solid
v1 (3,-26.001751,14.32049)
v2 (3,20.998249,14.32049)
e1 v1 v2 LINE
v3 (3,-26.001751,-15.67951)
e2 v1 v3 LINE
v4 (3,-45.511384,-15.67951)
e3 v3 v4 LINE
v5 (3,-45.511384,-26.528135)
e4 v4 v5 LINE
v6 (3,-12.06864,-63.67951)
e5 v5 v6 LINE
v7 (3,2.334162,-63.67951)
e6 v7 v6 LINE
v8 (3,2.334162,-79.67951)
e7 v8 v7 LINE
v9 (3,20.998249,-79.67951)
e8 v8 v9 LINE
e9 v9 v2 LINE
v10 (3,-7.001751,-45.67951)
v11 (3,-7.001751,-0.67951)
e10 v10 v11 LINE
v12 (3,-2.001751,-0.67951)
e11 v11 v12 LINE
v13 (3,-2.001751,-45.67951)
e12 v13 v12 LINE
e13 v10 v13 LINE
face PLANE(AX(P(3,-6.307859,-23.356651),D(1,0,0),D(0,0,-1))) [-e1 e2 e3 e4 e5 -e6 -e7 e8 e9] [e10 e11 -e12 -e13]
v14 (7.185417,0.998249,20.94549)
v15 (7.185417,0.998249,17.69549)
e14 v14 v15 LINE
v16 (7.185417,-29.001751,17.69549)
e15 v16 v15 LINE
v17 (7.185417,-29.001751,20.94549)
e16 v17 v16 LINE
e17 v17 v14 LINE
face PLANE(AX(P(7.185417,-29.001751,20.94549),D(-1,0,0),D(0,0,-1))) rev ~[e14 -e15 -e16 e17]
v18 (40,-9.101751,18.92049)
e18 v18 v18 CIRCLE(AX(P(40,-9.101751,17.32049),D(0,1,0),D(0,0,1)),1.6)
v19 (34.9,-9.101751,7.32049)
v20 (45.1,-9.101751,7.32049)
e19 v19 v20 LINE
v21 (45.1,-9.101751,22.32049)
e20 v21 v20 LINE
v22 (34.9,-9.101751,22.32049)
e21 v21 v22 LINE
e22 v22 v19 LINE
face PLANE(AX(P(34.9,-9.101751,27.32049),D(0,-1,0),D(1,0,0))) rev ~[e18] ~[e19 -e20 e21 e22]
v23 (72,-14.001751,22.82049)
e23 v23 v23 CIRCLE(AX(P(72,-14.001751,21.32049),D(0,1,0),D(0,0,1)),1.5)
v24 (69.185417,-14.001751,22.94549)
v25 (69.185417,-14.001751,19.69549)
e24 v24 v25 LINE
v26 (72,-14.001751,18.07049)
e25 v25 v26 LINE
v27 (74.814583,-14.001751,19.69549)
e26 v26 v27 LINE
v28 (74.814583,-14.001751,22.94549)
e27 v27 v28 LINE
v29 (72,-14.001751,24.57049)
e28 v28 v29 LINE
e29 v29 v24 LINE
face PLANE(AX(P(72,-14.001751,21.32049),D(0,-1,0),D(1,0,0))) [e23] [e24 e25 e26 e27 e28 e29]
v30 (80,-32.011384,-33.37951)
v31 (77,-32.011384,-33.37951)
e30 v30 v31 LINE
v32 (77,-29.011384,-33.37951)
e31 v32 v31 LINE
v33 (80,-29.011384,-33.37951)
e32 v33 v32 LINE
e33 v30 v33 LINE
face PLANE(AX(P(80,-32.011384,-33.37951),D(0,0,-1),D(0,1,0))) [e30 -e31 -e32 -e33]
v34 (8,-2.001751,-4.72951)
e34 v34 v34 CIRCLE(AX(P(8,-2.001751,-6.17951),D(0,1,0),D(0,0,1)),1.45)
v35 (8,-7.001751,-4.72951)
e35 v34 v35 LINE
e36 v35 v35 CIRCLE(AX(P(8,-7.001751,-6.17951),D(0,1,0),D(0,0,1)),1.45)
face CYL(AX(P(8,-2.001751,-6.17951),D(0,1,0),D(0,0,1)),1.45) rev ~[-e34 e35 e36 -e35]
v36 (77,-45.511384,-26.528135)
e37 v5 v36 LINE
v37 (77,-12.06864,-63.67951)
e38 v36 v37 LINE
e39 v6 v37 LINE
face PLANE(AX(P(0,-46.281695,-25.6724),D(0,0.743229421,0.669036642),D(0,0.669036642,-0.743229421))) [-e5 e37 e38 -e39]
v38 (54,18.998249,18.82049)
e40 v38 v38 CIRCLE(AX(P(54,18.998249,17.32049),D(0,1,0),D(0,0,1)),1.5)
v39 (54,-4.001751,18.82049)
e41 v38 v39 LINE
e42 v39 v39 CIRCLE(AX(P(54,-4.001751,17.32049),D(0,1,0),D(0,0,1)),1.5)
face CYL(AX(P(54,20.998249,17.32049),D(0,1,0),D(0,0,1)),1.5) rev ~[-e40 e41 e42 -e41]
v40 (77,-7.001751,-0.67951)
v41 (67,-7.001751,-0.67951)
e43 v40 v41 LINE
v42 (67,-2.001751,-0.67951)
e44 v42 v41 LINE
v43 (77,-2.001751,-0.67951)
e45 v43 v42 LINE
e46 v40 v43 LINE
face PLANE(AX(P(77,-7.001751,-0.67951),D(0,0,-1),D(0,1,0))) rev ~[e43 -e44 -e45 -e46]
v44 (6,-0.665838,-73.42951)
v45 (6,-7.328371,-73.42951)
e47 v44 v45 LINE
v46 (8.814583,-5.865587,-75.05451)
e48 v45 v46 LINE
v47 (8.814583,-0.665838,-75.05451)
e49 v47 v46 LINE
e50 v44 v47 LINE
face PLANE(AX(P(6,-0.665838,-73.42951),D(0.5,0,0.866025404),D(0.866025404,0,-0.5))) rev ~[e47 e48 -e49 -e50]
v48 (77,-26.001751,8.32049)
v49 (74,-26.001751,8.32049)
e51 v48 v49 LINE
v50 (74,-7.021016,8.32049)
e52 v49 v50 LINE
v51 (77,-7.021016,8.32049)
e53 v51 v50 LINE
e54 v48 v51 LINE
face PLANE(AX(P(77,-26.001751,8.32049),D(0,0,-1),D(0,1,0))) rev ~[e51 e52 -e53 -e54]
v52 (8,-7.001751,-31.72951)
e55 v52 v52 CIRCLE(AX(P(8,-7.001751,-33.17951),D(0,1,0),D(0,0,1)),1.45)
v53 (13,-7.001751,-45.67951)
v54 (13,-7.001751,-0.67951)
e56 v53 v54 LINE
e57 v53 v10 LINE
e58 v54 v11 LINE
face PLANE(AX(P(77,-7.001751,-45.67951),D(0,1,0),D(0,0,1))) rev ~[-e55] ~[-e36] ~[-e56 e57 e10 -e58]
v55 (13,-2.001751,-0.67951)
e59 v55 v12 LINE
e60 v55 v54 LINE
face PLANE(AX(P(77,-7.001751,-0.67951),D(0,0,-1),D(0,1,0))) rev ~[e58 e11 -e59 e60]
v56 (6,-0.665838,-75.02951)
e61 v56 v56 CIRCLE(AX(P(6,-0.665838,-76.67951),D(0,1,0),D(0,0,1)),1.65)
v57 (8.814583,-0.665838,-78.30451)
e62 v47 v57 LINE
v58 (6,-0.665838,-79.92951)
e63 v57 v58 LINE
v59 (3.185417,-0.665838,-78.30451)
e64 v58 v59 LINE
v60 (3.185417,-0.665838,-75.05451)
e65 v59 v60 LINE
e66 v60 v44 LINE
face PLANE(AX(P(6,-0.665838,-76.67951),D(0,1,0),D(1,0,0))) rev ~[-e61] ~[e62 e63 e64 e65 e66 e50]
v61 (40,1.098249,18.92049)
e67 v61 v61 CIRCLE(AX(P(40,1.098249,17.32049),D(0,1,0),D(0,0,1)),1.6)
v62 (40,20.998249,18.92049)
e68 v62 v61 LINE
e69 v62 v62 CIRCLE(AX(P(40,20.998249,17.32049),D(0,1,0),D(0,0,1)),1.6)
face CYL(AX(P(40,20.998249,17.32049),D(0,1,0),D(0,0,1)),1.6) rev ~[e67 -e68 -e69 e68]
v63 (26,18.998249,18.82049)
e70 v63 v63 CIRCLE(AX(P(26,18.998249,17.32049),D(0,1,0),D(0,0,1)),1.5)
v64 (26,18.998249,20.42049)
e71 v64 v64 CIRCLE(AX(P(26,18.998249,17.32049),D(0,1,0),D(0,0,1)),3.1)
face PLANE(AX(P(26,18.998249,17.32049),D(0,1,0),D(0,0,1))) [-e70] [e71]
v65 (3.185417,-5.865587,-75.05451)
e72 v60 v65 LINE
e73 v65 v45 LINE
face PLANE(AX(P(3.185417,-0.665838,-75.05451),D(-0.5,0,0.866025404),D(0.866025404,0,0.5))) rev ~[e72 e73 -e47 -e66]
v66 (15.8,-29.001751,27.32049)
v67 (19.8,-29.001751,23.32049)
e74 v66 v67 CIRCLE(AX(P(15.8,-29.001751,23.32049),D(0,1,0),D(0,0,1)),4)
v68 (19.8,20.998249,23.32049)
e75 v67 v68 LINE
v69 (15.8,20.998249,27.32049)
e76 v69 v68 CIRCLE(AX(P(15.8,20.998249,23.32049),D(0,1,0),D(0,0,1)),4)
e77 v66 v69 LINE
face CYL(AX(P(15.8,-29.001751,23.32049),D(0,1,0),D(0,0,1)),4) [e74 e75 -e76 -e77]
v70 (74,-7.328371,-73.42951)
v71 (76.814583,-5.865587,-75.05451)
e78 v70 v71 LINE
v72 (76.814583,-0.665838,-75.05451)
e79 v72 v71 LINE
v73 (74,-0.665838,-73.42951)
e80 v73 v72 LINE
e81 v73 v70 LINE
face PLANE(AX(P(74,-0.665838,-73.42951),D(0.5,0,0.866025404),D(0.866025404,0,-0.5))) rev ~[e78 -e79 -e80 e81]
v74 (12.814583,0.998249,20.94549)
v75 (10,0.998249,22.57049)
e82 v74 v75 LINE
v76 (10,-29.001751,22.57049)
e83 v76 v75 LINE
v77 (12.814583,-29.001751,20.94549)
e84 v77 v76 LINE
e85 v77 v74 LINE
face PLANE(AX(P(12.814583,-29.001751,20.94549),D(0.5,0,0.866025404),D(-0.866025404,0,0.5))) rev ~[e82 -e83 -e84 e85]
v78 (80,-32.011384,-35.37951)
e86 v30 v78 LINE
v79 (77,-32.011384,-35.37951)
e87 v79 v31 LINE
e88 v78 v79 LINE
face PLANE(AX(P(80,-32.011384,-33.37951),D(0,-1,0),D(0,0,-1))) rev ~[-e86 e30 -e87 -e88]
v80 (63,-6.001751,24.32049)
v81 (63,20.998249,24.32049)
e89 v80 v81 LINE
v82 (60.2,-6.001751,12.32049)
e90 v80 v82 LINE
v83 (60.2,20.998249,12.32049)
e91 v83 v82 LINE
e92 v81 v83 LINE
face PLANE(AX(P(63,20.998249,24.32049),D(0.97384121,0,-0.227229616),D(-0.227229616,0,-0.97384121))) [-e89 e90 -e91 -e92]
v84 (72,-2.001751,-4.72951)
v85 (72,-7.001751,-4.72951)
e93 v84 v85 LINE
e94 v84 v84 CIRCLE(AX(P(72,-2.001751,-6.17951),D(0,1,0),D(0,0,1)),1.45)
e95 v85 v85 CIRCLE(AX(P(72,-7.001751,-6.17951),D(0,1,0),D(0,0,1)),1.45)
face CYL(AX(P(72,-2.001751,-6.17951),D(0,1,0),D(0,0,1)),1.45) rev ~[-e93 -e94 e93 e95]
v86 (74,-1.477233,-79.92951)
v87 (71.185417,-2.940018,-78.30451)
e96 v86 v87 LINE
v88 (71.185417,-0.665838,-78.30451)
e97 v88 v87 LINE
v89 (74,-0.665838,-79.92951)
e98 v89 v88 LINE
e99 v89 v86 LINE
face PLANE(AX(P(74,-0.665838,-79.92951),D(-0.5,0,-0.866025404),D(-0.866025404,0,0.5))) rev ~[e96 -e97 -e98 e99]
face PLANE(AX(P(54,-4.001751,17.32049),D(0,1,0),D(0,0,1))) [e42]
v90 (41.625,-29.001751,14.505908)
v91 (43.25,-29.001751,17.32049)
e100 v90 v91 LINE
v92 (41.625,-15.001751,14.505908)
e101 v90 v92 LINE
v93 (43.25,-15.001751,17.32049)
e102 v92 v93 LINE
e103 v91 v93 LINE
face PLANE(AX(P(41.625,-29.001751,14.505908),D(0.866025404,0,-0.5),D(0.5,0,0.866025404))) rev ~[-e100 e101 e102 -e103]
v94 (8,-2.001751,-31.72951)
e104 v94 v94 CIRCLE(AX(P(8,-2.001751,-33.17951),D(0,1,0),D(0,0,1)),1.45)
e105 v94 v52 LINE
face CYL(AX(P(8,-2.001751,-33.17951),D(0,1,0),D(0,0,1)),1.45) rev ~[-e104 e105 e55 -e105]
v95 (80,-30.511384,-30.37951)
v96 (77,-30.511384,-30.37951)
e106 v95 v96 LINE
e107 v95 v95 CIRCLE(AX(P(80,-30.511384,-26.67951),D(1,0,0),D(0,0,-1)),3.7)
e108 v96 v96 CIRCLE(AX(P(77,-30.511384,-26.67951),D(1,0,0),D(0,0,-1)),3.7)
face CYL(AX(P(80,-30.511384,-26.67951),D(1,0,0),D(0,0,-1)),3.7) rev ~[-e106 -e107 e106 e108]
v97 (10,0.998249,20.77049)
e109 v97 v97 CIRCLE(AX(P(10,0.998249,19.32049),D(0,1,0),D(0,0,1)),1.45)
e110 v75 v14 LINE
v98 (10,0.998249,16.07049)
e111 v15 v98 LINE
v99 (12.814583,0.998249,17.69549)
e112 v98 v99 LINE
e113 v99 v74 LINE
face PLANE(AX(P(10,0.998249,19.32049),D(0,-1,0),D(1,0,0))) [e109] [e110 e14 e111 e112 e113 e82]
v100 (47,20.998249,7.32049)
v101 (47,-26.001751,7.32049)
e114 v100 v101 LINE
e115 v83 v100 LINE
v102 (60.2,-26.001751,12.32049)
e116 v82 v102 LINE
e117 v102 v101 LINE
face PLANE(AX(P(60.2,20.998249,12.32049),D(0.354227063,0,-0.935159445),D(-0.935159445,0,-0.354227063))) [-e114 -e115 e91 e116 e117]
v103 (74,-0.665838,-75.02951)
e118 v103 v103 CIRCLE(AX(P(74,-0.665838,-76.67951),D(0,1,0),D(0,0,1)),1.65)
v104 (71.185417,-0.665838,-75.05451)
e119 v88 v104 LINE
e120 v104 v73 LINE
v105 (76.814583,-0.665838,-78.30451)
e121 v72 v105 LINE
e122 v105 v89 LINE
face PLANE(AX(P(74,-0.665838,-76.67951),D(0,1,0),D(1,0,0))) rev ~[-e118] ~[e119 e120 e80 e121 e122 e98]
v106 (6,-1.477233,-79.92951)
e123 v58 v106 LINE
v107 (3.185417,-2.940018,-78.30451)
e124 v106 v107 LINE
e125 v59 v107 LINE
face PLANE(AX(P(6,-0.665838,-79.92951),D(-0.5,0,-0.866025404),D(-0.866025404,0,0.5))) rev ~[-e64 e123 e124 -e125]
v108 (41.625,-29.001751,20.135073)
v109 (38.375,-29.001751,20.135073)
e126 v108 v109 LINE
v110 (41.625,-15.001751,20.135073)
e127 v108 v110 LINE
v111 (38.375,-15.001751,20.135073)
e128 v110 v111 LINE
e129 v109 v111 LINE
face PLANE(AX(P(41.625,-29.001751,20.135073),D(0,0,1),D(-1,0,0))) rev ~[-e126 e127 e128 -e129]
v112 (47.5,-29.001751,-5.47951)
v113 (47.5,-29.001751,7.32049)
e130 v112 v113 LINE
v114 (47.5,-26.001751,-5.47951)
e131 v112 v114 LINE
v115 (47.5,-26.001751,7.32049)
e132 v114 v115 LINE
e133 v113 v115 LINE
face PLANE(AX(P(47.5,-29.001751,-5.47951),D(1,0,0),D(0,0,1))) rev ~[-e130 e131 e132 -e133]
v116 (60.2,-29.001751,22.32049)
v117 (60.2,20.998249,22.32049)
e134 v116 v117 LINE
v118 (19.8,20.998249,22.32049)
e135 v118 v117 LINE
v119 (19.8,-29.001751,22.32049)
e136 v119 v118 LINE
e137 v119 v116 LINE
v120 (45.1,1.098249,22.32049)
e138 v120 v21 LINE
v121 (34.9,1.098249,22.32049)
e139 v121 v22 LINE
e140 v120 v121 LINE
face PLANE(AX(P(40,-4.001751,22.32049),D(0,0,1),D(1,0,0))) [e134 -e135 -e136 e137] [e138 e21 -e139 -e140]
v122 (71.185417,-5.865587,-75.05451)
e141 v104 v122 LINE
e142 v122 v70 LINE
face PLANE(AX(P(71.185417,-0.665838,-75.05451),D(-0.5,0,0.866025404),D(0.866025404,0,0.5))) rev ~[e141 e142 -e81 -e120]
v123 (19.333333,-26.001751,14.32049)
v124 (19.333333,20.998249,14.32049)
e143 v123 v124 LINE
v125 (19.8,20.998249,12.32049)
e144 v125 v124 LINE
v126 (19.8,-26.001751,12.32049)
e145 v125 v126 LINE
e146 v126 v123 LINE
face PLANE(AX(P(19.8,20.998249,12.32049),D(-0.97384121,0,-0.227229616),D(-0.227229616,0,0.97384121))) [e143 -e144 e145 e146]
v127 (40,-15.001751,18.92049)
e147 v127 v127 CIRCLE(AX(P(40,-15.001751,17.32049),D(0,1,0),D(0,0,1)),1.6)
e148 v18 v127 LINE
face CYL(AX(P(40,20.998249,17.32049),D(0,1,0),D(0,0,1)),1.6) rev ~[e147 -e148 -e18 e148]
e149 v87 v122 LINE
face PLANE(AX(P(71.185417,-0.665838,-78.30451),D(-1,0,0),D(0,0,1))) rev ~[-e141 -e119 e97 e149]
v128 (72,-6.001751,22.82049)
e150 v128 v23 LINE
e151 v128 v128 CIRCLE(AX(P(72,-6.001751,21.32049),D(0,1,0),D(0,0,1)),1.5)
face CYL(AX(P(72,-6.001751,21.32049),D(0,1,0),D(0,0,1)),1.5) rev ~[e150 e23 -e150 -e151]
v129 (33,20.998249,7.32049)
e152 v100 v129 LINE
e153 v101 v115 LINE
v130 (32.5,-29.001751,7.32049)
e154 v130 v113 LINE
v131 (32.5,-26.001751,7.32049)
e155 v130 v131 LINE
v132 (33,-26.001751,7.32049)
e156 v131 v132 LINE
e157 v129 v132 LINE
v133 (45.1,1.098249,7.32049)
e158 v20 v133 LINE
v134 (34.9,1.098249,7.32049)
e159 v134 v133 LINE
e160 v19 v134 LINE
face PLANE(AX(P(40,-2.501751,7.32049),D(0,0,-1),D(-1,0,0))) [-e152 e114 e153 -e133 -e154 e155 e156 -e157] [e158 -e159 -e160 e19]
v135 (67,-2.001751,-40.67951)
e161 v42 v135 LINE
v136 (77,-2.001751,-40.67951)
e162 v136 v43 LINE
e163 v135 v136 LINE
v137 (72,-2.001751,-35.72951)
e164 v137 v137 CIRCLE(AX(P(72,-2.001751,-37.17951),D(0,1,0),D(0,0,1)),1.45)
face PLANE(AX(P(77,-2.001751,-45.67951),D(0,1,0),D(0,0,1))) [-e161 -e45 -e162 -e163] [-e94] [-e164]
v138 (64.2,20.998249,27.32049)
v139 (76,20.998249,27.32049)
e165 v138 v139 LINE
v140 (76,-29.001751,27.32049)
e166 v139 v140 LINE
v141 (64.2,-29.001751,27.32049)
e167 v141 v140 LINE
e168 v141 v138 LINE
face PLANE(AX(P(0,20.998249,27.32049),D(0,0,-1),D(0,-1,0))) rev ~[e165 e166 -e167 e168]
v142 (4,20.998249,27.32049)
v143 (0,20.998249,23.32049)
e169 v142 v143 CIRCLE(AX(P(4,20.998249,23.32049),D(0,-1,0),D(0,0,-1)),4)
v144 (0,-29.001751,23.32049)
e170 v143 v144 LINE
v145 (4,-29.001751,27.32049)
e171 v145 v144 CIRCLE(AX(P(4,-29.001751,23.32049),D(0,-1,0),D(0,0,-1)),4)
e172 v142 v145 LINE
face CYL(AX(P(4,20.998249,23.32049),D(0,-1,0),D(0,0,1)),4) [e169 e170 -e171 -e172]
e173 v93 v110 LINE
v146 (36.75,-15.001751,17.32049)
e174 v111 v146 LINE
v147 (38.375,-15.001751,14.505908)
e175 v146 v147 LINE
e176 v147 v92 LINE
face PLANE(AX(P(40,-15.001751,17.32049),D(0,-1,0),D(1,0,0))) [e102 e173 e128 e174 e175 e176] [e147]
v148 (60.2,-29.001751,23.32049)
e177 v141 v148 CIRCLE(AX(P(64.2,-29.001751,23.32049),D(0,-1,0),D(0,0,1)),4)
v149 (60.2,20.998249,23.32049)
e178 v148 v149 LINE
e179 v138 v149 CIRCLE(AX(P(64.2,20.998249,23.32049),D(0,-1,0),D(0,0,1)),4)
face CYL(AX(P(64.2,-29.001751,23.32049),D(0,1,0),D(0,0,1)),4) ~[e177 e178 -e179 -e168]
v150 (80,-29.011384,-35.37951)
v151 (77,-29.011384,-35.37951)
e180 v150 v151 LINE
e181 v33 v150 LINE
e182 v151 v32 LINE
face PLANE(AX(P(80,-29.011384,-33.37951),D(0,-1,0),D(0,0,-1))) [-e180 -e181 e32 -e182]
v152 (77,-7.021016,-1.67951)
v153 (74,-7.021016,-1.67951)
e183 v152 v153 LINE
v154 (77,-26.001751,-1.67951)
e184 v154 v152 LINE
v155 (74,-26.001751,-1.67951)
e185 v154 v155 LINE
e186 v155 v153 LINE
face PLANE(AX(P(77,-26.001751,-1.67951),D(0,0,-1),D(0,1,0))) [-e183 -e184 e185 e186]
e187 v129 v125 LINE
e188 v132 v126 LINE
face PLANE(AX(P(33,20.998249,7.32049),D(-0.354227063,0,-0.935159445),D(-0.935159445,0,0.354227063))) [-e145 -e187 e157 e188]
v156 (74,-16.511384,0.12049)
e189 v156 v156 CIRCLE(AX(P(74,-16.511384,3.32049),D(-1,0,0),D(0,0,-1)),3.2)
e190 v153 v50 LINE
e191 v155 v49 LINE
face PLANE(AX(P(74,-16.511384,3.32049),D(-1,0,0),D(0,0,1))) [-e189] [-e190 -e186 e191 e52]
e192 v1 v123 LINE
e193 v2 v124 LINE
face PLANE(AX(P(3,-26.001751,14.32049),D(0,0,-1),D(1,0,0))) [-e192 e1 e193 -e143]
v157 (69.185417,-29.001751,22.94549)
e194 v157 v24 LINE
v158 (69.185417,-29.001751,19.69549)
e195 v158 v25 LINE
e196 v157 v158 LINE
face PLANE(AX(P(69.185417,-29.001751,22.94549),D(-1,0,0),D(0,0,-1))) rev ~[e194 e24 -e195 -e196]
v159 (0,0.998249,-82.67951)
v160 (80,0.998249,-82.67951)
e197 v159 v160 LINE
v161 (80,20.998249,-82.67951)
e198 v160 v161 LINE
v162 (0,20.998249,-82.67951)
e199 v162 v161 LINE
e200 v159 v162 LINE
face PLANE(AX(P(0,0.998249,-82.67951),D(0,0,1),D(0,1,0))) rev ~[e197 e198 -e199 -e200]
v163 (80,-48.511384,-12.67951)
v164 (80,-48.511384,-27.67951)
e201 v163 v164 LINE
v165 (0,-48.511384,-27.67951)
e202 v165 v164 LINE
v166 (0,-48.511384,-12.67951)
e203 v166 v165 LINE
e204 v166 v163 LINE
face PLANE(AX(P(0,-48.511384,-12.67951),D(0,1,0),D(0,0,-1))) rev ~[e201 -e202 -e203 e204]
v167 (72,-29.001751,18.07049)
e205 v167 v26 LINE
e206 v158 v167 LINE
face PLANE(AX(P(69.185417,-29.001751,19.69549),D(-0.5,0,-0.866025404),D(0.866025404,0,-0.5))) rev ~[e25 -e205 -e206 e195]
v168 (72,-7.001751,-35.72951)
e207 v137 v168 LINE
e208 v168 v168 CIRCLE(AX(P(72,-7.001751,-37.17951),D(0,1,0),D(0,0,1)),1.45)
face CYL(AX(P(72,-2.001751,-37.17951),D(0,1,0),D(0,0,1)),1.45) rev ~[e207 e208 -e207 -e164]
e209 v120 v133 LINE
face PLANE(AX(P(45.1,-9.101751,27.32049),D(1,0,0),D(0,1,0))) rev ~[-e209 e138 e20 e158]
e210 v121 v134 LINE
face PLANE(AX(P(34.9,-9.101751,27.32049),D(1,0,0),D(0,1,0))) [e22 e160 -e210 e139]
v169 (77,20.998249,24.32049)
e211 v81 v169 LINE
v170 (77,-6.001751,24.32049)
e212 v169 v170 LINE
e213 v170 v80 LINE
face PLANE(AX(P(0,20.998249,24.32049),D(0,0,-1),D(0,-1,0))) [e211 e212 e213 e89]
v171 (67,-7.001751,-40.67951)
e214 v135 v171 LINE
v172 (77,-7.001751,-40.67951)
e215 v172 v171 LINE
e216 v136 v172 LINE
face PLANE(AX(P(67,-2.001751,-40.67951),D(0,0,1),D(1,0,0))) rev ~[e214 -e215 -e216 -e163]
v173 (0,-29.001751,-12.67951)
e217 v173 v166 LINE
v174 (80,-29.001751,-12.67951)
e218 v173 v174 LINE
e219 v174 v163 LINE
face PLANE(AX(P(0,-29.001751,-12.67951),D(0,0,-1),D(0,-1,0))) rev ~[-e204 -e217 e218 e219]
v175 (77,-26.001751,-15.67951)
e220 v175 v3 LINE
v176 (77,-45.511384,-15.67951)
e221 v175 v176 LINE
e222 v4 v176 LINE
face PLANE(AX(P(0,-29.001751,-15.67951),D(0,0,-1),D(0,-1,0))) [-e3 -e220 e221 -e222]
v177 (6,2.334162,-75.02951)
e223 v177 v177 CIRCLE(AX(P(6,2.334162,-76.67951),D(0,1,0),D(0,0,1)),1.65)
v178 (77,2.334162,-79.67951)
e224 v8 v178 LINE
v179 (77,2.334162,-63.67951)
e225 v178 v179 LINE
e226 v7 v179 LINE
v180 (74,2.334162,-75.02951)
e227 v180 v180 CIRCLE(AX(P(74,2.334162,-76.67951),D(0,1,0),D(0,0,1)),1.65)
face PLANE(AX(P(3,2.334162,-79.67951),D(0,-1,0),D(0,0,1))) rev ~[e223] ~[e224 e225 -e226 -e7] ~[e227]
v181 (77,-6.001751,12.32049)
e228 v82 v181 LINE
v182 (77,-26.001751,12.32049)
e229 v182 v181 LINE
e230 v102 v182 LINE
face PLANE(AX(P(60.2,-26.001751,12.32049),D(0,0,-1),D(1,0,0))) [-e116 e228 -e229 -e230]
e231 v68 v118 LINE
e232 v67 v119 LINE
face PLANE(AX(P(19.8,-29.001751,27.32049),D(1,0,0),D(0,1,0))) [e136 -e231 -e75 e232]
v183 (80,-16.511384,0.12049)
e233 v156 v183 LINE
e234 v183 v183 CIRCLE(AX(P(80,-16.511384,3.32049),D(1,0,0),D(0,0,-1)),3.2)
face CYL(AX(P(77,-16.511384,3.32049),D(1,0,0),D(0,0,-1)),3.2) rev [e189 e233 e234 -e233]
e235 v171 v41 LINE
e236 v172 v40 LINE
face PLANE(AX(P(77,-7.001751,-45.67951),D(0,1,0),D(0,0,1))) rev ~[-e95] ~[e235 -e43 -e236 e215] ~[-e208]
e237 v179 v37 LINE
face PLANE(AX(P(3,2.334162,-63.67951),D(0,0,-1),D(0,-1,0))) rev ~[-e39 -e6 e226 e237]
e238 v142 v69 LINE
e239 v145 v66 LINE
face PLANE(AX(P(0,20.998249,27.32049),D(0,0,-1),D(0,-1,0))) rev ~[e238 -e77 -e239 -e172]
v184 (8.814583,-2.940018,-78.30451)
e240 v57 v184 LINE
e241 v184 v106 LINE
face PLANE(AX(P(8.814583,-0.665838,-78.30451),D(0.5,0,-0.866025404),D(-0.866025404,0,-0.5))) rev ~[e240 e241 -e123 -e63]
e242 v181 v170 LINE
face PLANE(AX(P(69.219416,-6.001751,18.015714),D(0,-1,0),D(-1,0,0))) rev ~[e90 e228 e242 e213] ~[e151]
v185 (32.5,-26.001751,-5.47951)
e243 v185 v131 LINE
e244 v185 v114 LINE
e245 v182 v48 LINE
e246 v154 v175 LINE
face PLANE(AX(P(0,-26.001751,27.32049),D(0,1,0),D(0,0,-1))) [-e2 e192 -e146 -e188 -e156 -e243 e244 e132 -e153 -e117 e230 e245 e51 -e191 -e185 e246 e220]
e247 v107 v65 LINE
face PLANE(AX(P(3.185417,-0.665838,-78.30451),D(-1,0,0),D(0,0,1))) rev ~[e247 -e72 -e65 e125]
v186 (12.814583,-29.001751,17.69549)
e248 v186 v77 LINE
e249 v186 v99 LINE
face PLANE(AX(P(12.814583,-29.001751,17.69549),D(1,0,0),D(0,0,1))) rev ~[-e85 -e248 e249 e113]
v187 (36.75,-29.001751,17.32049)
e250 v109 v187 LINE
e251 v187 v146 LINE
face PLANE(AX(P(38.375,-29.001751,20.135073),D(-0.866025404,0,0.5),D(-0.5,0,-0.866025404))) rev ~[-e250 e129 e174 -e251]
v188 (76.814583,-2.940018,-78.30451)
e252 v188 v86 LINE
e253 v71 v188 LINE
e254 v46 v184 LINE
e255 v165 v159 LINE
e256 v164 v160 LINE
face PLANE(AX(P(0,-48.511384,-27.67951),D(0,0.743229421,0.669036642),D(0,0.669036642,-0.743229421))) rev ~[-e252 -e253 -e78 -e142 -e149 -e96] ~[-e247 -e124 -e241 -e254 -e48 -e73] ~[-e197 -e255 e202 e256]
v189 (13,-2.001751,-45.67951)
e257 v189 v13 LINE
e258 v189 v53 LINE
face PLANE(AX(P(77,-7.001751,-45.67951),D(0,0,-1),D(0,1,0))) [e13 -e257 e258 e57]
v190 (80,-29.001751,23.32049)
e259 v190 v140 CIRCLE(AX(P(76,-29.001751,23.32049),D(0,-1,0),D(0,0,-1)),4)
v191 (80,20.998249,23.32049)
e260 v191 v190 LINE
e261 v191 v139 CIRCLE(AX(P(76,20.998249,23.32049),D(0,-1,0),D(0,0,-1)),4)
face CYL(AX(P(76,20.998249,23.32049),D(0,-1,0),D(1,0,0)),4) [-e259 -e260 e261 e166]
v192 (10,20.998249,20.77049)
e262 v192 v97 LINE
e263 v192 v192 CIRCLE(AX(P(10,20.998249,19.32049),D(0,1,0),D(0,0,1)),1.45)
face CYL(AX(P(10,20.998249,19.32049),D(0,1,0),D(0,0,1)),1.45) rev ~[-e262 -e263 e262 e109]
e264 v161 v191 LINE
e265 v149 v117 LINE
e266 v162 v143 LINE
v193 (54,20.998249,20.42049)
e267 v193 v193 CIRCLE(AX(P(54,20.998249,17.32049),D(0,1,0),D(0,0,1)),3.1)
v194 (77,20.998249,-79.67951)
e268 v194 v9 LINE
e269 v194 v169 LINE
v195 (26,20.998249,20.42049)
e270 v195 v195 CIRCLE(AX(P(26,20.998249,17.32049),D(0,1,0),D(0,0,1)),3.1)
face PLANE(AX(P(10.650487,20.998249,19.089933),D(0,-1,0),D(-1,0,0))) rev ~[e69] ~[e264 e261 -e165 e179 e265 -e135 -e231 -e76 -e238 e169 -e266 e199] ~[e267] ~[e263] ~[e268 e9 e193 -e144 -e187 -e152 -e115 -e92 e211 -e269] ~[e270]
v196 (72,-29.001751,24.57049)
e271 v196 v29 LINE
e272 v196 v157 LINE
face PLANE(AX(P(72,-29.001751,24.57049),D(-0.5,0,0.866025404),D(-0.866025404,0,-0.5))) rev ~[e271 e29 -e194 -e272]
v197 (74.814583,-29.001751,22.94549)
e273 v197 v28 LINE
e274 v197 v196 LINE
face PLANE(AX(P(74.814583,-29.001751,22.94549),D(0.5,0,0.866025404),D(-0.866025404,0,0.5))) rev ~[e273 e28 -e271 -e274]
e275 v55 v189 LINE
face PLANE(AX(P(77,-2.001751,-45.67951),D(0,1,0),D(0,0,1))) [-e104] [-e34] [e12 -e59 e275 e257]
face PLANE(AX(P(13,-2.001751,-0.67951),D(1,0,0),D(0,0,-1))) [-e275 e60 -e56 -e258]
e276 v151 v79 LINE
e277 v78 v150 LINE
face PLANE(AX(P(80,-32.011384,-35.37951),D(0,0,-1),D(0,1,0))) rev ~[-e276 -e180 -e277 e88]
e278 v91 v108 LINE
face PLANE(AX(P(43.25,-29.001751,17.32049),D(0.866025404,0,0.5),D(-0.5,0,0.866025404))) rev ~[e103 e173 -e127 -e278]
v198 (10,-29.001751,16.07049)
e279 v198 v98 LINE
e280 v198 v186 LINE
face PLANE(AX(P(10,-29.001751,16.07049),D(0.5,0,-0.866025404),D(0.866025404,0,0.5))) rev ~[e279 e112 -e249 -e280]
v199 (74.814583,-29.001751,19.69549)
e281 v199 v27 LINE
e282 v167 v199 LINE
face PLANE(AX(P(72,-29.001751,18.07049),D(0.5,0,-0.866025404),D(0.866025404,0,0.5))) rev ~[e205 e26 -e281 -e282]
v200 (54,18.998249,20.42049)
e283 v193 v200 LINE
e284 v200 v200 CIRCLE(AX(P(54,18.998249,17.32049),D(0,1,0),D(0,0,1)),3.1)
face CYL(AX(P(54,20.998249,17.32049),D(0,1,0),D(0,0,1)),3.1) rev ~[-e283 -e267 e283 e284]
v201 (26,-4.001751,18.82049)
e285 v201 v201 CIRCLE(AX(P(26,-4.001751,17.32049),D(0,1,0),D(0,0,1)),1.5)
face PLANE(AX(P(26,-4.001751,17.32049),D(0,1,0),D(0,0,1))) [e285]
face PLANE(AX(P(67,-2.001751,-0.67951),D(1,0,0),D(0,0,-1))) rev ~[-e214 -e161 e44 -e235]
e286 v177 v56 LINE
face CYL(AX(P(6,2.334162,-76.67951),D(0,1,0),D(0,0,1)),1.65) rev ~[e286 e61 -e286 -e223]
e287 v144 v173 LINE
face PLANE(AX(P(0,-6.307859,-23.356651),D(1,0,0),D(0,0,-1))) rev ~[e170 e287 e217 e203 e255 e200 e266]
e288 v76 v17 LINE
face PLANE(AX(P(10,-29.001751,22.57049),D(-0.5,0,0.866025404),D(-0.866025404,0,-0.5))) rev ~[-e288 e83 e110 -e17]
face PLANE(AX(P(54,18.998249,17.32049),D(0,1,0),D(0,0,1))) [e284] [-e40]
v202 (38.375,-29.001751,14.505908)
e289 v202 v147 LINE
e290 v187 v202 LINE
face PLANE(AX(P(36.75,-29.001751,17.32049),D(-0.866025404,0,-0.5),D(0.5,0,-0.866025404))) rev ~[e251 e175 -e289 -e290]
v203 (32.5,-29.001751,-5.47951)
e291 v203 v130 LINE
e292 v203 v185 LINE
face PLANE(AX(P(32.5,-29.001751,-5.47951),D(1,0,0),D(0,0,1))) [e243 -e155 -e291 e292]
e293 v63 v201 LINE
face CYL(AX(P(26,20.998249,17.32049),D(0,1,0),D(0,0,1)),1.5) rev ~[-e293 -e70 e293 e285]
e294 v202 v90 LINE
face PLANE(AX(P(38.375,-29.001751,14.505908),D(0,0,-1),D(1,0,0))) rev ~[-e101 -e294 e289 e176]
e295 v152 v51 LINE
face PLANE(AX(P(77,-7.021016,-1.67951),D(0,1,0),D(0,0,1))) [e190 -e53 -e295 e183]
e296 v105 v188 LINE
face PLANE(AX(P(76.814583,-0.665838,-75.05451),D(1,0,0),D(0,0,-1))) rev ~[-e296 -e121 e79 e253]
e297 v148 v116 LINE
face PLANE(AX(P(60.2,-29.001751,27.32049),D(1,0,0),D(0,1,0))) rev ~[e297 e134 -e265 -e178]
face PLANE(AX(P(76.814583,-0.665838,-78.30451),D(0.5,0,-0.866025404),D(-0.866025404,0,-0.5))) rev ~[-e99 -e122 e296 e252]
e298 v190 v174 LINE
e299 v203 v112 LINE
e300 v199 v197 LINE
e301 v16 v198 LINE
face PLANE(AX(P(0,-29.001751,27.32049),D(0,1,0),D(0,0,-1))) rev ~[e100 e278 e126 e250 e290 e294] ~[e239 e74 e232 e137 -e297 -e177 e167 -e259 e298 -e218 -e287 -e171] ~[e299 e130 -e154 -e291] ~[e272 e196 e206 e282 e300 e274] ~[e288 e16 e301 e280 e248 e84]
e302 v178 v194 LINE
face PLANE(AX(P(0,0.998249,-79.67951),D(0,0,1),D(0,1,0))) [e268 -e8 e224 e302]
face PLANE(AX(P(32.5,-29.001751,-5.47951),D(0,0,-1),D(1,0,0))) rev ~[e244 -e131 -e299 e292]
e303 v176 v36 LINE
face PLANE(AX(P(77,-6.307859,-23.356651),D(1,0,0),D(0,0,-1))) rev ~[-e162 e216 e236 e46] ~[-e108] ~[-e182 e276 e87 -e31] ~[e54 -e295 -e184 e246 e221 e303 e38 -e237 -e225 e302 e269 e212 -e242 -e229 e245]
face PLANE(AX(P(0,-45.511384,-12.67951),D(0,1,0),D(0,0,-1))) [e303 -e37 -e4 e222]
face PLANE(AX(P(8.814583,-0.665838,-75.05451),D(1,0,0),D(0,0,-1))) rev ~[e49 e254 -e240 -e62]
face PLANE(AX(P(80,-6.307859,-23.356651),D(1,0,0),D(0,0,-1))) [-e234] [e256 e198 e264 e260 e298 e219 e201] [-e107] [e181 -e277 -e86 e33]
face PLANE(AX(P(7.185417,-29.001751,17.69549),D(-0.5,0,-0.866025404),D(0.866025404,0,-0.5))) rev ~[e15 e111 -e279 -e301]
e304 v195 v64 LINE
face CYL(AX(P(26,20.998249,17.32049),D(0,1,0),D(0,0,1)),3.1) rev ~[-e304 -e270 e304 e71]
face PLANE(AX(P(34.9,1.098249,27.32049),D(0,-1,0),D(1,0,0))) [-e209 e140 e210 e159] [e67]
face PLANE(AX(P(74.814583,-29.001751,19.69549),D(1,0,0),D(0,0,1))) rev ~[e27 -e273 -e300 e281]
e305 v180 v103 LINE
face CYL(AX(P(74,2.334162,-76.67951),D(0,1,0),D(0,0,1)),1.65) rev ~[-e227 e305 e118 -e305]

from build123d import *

# Parameters (mm, degrees)
BOSS_EXTRUDE1_DEPTH = 80
SHELL1_T            = -3
SKETCH3_W           = 46
SKETCH3_H           = 47
BOSS_EXTRUDE2_DEPTH = 17
SKETCH4_W           = 10.2
SKETCH4_H           = 10.2
CUT_EXTRUDE1_DEPTH  = 20
SKETCH6_W           = 15
SKETCH6_H           = 12.8
CUT_EXTRUDE2_DEPTH  = 3
SKETCH7_W           = 40.4
SKETCH7_H           = 50
CUT_EXTRUDE3_DEPTH  = 5
FILLET1_R           = 4
CUT_EXTRUDE7_DEPTH  = 47
SKETCH13_R          = 1.5
CUT_EXTRUDE8_DEPTH  = 25
SKETCH14_R          = 3.1
CUT_EXTRUDE9_DEPTH  = 2
SKETCH17_W          = 45
SKETCH17_H          = 5
BOSS_EXTRUDE5_DEPTH = 74
CUT_EXTRUDE10_REACH = 48.51
SKETCH18_W          = 54
SKETCH18_H          = 45
CUT_EXTRUDE11_REACH = 48.51
SKETCH19_R          = 1.45
BOSS_EXTRUDE6_DEPTH = 47
SKETCH22_R          = 1.45
CUT_EXTRUDE12_DEPTH = 70.509632224
CUT_EXTRUDE13_REACH = 82
SKETCH24_R          = 3.7
SKETCH24_W          = 2
SKETCH24_H          = 3
BOSS_EXTRUDE7_DEPTH = 74
SKETCH27_R          = 1.65
CUT_EXTRUDE14_DEPTH = 10
CUT_EXTRUDE15_START = -3
CUT_EXTRUDE15_DEPTH = 32
CUT_EXTRUDE16_DEPTH = 30
BOSS_EXTRUDE8_DEPTH = 20
SKETCH31_R          = 1.5
CUT_EXTRUDE17_DEPTH = 43.509632224
CUT_EXTRUDE18_DEPTH = 15
CUT_EXTRUDE19_REACH = 48.51
SKETCH33_W          = 10
SKETCH33_H          = 5
SKETCH34_R          = 1.6
CUT_EXTRUDE20_DEPTH = 70.509632224
CUT_EXTRUDE22_DEPTH = 14
CUT_EXTRUDE23_REACH = 82
SKETCH37_R          = 3.2
SKETCH38_W          = 10
SKETCH38_H          = 18.980735551
SKETCH38_R          = 3.2
BOSS_EXTRUDE9_DEPTH = 3


with BuildPart() as part:
    # Sketch2 → Boss-Extrude1 (new body)
    with BuildSketch(Plane(origin=(0, 0, 0), x_dir=(0, 0, -1), z_dir=(1, 0, 0))):
        Polygon((-27.320490368, 20.998248687), (-27.320490368, -29.001751313), (12.679509632, -29.001751313), (12.679509632, -48.511383538), (27.679509632, -48.511383538), (82.679509632, 0.998248687), (82.679509632, 20.998248687), align=None)
    extrude(amount=BOSS_EXTRUDE1_DEPTH)

    # Shell1
    shell1_openings = [part.faces().sort_by_distance(p)[0] for p in [
        (40, 20.998248687, -27.679509632),
    ]]
    offset(amount=SHELL1_T, openings=shell1_openings, kind=Kind.INTERSECTION)

    # Sketch3 → Boss-Extrude2 (add)
    with BuildSketch(Plane(origin=(0, 0, 24.320490368), x_dir=(-1, 0, 0), z_dir=(0, 0, -1))):
        with Locations((-40, -2.501751313)):
            Rectangle(SKETCH3_W, SKETCH3_H)
    extrude(amount=BOSS_EXTRUDE2_DEPTH)

    # Sketch4 → Cut-Extrude1 (cut)
    with BuildSketch(Plane.XY.offset(27.320490368)):
        with Locations((40, -4.001751313)):
            Rectangle(SKETCH4_W, SKETCH4_H)
    extrude(amount=-CUT_EXTRUDE1_DEPTH, mode=Mode.SUBTRACT)

    # Sketch6 → Cut-Extrude2 (cut)
    with BuildSketch(Plane.XZ.offset(29.001751313)):
        with Locations((40, 0.920490368)):
            Rectangle(SKETCH6_W, SKETCH6_H)
    extrude(amount=-CUT_EXTRUDE2_DEPTH, mode=Mode.SUBTRACT)

    # Sketch7 → Cut-Extrude3 (cut)
    with BuildSketch(Plane.XY.offset(27.320490368)):
        with Locations((40, -4.001751313)):
            Rectangle(SKETCH7_W, SKETCH7_H)
    extrude(amount=-CUT_EXTRUDE3_DEPTH, mode=Mode.SUBTRACT)

    # Fillet1
    fillet1_edges = [part.edges().sort_by_distance(p)[0] for p in [
        (80, -4.001751313, 27.320490368),
        (19.8, -4.001751313, 27.320490368),
        (0, -4.001751313, 27.320490368),
        (60.2, -4.001751313, 27.320490368),
    ]]
    fillet(fillet1_edges, radius=FILLET1_R)

    # Sketch12 → Cut-Extrude7 (cut)
    with BuildSketch(Plane(origin=(0, 20.998248687, 0), x_dir=(1, 0, 0), z_dir=(0, 1, 0))):
        Polygon((33, -7.320490368), (19.8, -12.320490368), (17, -24.320490368), (17, -7.320490368), align=None)
        Polygon((47, -7.320490368), (63, -7.320490368), (63, -24.320490368), (60.2, -12.320490368), align=None)
    extrude(amount=-CUT_EXTRUDE7_DEPTH, mode=Mode.SUBTRACT)

    # Sketch13 → Cut-Extrude8 (cut)
    with BuildSketch(Plane(origin=(0, 20.998248687, 0), x_dir=(1, 0, 0), z_dir=(0, 1, 0))):
        with Locations(Location((26, -17.320490368, 0), (0, 0, 270))):  # turned: the seam where the file's is
            Circle(SKETCH13_R)
        with Locations(Location((54, -17.320490368, 0), (0, 0, 270))):  # turned: the seam where the file's is
            Circle(SKETCH13_R)
    extrude(amount=-CUT_EXTRUDE8_DEPTH, mode=Mode.SUBTRACT)

    # Sketch14 → Cut-Extrude9 (cut)
    with BuildSketch(Plane(origin=(0, 20.998248687, 0), x_dir=(1, 0, 0), z_dir=(0, 1, 0))):
        with Locations(Location((26, -17.320490368, 0), (0, 0, 270))):  # turned: the seam where the file's is
            Circle(SKETCH14_R)
        with Locations(Location((54, -17.320490368, 0), (0, 0, 270))):  # turned: the seam where the file's is
            Circle(SKETCH14_R)
    extrude(amount=-CUT_EXTRUDE9_DEPTH, mode=Mode.SUBTRACT)

    # Sketch17 → Boss-Extrude5 (add)
    with BuildSketch(Plane.ZY.offset(-77)):
        with Locations((-23.179509632, -4.501751313)):
            Rectangle(SKETCH17_W, SKETCH17_H)
    extrude(amount=BOSS_EXTRUDE5_DEPTH)

    # Sketch18 → Cut-Extrude10 (cut, up to next)
    with BuildSketch(Plane(origin=(0, -2.001751313, 0), x_dir=(1, 0, 0), z_dir=(0, 1, 0)), mode=Mode.PRIVATE) as cut_extrude10_sk1:
        with Locations((40, 23.179509632)):
            Rectangle(SKETCH18_W, SKETCH18_H)
    cut_extrude10_tool1 = extrude(cut_extrude10_sk1.sketch, amount=-CUT_EXTRUDE10_REACH, mode=Mode.PRIVATE) & part.part
    add(cut_extrude10_tool1.solids().sort_by_distance((40, -2.001751, -23.17951))[0], mode=Mode.SUBTRACT)

    # Sketch19 → Cut-Extrude11 (cut, up to next)
    with BuildSketch(Plane(origin=(0, -2.001751313, 0), x_dir=(1, 0, 0), z_dir=(0, 1, 0)), mode=Mode.PRIVATE) as cut_extrude11_sk1:
        with Locations(Location((72, 37.179509632, 0), (0, 0, 270))):  # turned: the seam where the file's is
            Circle(SKETCH19_R)
    cut_extrude11_tool1 = extrude(cut_extrude11_sk1.sketch, amount=-CUT_EXTRUDE11_REACH, mode=Mode.PRIVATE) & part.part
    add(cut_extrude11_tool1.solids().sort_by_distance((72, -2.001751, -37.17951))[0], mode=Mode.SUBTRACT)
    # Sketch19 → Cut-Extrude11 (cut, up to next)
    with BuildSketch(Plane(origin=(0, -2.001751313, 0), x_dir=(1, 0, 0), z_dir=(0, 1, 0)), mode=Mode.PRIVATE) as cut_extrude11_sk2:
        with Locations(Location((72, 6.179509632, 0), (0, 0, 270))):  # turned: the seam where the file's is
            Circle(SKETCH19_R)
    cut_extrude11_tool2 = extrude(cut_extrude11_sk2.sketch, amount=-CUT_EXTRUDE11_REACH, mode=Mode.PRIVATE) & part.part
    add(cut_extrude11_tool2.solids().sort_by_distance((72, -2.001751, -6.17951))[0], mode=Mode.SUBTRACT)
    # Sketch19 → Cut-Extrude11 (cut, up to next)
    with BuildSketch(Plane(origin=(0, -2.001751313, 0), x_dir=(1, 0, 0), z_dir=(0, 1, 0)), mode=Mode.PRIVATE) as cut_extrude11_sk3:
        with Locations(Location((8, 33.179509632, 0), (0, 0, 270))):  # turned: the seam where the file's is
            Circle(SKETCH19_R)
    cut_extrude11_tool3 = extrude(cut_extrude11_sk3.sketch, amount=-CUT_EXTRUDE11_REACH, mode=Mode.PRIVATE) & part.part
    add(cut_extrude11_tool3.solids().sort_by_distance((8, -2.001751, -33.17951))[0], mode=Mode.SUBTRACT)
    # Sketch19 → Cut-Extrude11 (cut, up to next)
    with BuildSketch(Plane(origin=(0, -2.001751313, 0), x_dir=(1, 0, 0), z_dir=(0, 1, 0)), mode=Mode.PRIVATE) as cut_extrude11_sk4:
        with Locations(Location((8, 6.179509632, 0), (0, 0, 270))):  # turned: the seam where the file's is
            Circle(SKETCH19_R)
    cut_extrude11_tool4 = extrude(cut_extrude11_sk4.sketch, amount=-CUT_EXTRUDE11_REACH, mode=Mode.PRIVATE) & part.part
    add(cut_extrude11_tool4.solids().sort_by_distance((8, -2.001751, -6.17951))[0], mode=Mode.SUBTRACT)

    # Sketch21 → Boss-Extrude6 (add)
    with BuildSketch(Plane(origin=(0, -26.001751313, 0), x_dir=(1, 0, 0), z_dir=(0, 1, 0))):
        Polygon((3, -24.320490368), (3, -14.320490368), (19.333333333, -14.320490368), (17, -24.320490368), align=None)
    extrude(amount=BOSS_EXTRUDE6_DEPTH)

    # Sketch22 → Cut-Extrude12 (cut, through all)
    with BuildSketch(Plane(origin=(0, 20.998248687, 0), x_dir=(1, 0, 0), z_dir=(0, 1, 0))):
        with Locations(Location((10, -19.320490368, 0), (0, 0, 270))):  # turned: the seam where the file's is
            Circle(SKETCH22_R)
    extrude(amount=-CUT_EXTRUDE12_DEPTH, mode=Mode.SUBTRACT)

    # Sketch24 → Cut-Extrude13 (cut, up to next)
    with BuildSketch(Plane(origin=(80, 0, 0), x_dir=(0, 0, -1), z_dir=(1, 0, 0)), mode=Mode.PRIVATE) as cut_extrude13_sk1:
        with Locations((26.679509632, -30.511383538)):
            Circle(SKETCH24_R)
    cut_extrude13_tool1 = extrude(cut_extrude13_sk1.sketch, amount=-CUT_EXTRUDE13_REACH, mode=Mode.PRIVATE) & part.part
    add(cut_extrude13_tool1.solids().sort_by_distance((80, -30.511384, -26.67951))[0], mode=Mode.SUBTRACT)
    # Sketch24 → Cut-Extrude13 (cut, up to next)
    with BuildSketch(Plane(origin=(80, 0, 0), x_dir=(0, 0, -1), z_dir=(1, 0, 0)), mode=Mode.PRIVATE) as cut_extrude13_sk2:
        with Locations((34.379509632, -30.511383538)):
            Rectangle(SKETCH24_W, SKETCH24_H)
    cut_extrude13_tool2 = extrude(cut_extrude13_sk2.sketch, amount=-CUT_EXTRUDE13_REACH, mode=Mode.PRIVATE) & part.part
    add(cut_extrude13_tool2.solids().sort_by_distance((80, -30.511384, -34.37951))[0], mode=Mode.SUBTRACT)

    # Sketch26 → Boss-Extrude7 (add)
    with BuildSketch(Plane(origin=(3, 0, 0), x_dir=(0, 0, -1), z_dir=(1, 0, 0))):
        Polygon((79.679509632, 2.334161996), (63.679509632, 2.334161996), (63.679509632, -12.068640106), align=None)
    extrude(amount=BOSS_EXTRUDE7_DEPTH)

    # Sketch27 → Cut-Extrude14 (cut)
    with BuildSketch(Plane(origin=(0, 2.334161996, 0), x_dir=(1, 0, 0), z_dir=(0, 1, 0))):
        with Locations(Location((6, 76.679509632, 0), (0, 0, 270))):  # turned: the seam where the file's is
            Circle(SKETCH27_R)
        with Locations(Location((74, 76.679509632, 0), (0, 0, 270))):  # turned: the seam where the file's is
            Circle(SKETCH27_R)
    extrude(amount=-CUT_EXTRUDE14_DEPTH, mode=Mode.SUBTRACT)

    # Sketch28 → Cut-Extrude15 (cut)
    with BuildSketch(Plane(origin=(0, 2.334161996, 0), x_dir=(1, 0, 0), z_dir=(0, 1, 0)).offset(CUT_EXTRUDE15_START)):
        Polygon((74, 79.929509632), (71.185417438, 78.304509632), (71.185417438, 75.054509632), (74, 73.429509632), (76.814582562, 75.054509632), (76.814582562, 78.304509632), align=None)
        Polygon((6, 73.429509632), (8.814582562, 75.054509632), (8.814582562, 78.304509632), (6, 79.929509632), (3.185417438, 78.304509632), (3.185417438, 75.054509632), align=None)
    extrude(amount=-CUT_EXTRUDE15_DEPTH, mode=Mode.SUBTRACT)

    # Sketch29 → Cut-Extrude16 (cut)
    with BuildSketch(Plane.XZ.offset(29.001751313)):
        Polygon((7.185417438, 17.695490368), (10, 16.070490368), (12.814582562, 17.695490368), (12.814582562, 20.945490368), (10, 22.570490368), (7.185417438, 20.945490368), align=None)
    extrude(amount=-CUT_EXTRUDE16_DEPTH, mode=Mode.SUBTRACT)

    # Sketch30 → Boss-Extrude8 (add)
    with BuildSketch(Plane(origin=(0, -26.001751313, 0), x_dir=(1, 0, 0), z_dir=(0, 1, 0))):
        Polygon((77, -24.320490368), (63, -24.320490368), (60.2, -12.320490368), (77, -12.320490368), align=None)
    extrude(amount=BOSS_EXTRUDE8_DEPTH)

    # Sketch31 → Cut-Extrude17 (cut, through all)
    with BuildSketch(Plane(origin=(0, -6.001751313, 0), x_dir=(1, 0, 0), z_dir=(0, 1, 0))):
        with Locations(Location((72, -21.320490368, 0), (0, 0, 270))):  # turned: the seam where the file's is
            Circle(SKETCH31_R)
    extrude(amount=-CUT_EXTRUDE17_DEPTH, mode=Mode.SUBTRACT)

    # Sketch32 → Cut-Extrude18 (cut)
    with BuildSketch(Plane.XZ.offset(29.001751313)):
        Polygon((72, 24.570490368), (69.185417438, 22.945490368), (69.185417438, 19.695490368), (72, 18.070490368), (74.814582562, 19.695490368), (74.814582562, 22.945490368), align=None)
    extrude(amount=-CUT_EXTRUDE18_DEPTH, mode=Mode.SUBTRACT)

    # Sketch33 → Cut-Extrude19 (cut, up to next)
    with BuildSketch(Plane(origin=(0, -2.001751313, 0), x_dir=(1, 0, 0), z_dir=(0, 1, 0)), mode=Mode.PRIVATE) as cut_extrude19_sk1:
        with Locations((72, 43.179509632)):
            Rectangle(SKETCH33_W, SKETCH33_H)
    cut_extrude19_tool1 = extrude(cut_extrude19_sk1.sketch, amount=-CUT_EXTRUDE19_REACH, mode=Mode.PRIVATE) & part.part
    add(cut_extrude19_tool1.solids().sort_by_distance((72, -2.001751, -43.17951))[0], mode=Mode.SUBTRACT)

    # Sketch34 → Cut-Extrude20 (cut, through all)
    with BuildSketch(Plane(origin=(0, 20.998248687, 0), x_dir=(1, 0, 0), z_dir=(0, 1, 0))):
        with Locations(Location((40, -17.320490368, 0), (0, 0, 270))):  # turned: the seam where the file's is
            Circle(SKETCH34_R)
    extrude(amount=-CUT_EXTRUDE20_DEPTH, mode=Mode.SUBTRACT)

    # Sketch36 → Cut-Extrude22 (cut)
    with BuildSketch(Plane.XZ.offset(29.001751313)):
        Polygon((38.375, 20.13507293), (36.75, 17.320490368), (38.375, 14.505907805), (41.625, 14.505907805), (43.25, 17.320490368), (41.625, 20.13507293), align=None)
    extrude(amount=-CUT_EXTRUDE22_DEPTH, mode=Mode.SUBTRACT)

    # Sketch37 → Cut-Extrude23 (cut, up to next)
    with BuildSketch(Plane(origin=(80, 0, 0), x_dir=(0, 0, -1), z_dir=(1, 0, 0)), mode=Mode.PRIVATE) as cut_extrude23_sk1:
        with Locations((-3.320490368, -16.511383538)):
            Circle(SKETCH37_R)
    cut_extrude23_tool1 = extrude(cut_extrude23_sk1.sketch, amount=-CUT_EXTRUDE23_REACH, mode=Mode.PRIVATE) & part.part
    add(cut_extrude23_tool1.solids().sort_by_distance((80, -16.511384, 3.32049))[0], mode=Mode.SUBTRACT)

    # Sketch38 → Boss-Extrude9 (add)
    with BuildSketch(Plane.ZY.offset(-77)):
        with Locations((3.320490368, -16.511383538)):
            Rectangle(SKETCH38_W, SKETCH38_H)
        with Locations(Location((3.320490368, -16.511383538, 0), (0, 0, 180))):  # turned: the seam where the file's is
            Circle(SKETCH38_R, mode=Mode.SUBTRACT)
    extrude(amount=BOSS_EXTRUDE9_DEPTH)


solid = part.part
